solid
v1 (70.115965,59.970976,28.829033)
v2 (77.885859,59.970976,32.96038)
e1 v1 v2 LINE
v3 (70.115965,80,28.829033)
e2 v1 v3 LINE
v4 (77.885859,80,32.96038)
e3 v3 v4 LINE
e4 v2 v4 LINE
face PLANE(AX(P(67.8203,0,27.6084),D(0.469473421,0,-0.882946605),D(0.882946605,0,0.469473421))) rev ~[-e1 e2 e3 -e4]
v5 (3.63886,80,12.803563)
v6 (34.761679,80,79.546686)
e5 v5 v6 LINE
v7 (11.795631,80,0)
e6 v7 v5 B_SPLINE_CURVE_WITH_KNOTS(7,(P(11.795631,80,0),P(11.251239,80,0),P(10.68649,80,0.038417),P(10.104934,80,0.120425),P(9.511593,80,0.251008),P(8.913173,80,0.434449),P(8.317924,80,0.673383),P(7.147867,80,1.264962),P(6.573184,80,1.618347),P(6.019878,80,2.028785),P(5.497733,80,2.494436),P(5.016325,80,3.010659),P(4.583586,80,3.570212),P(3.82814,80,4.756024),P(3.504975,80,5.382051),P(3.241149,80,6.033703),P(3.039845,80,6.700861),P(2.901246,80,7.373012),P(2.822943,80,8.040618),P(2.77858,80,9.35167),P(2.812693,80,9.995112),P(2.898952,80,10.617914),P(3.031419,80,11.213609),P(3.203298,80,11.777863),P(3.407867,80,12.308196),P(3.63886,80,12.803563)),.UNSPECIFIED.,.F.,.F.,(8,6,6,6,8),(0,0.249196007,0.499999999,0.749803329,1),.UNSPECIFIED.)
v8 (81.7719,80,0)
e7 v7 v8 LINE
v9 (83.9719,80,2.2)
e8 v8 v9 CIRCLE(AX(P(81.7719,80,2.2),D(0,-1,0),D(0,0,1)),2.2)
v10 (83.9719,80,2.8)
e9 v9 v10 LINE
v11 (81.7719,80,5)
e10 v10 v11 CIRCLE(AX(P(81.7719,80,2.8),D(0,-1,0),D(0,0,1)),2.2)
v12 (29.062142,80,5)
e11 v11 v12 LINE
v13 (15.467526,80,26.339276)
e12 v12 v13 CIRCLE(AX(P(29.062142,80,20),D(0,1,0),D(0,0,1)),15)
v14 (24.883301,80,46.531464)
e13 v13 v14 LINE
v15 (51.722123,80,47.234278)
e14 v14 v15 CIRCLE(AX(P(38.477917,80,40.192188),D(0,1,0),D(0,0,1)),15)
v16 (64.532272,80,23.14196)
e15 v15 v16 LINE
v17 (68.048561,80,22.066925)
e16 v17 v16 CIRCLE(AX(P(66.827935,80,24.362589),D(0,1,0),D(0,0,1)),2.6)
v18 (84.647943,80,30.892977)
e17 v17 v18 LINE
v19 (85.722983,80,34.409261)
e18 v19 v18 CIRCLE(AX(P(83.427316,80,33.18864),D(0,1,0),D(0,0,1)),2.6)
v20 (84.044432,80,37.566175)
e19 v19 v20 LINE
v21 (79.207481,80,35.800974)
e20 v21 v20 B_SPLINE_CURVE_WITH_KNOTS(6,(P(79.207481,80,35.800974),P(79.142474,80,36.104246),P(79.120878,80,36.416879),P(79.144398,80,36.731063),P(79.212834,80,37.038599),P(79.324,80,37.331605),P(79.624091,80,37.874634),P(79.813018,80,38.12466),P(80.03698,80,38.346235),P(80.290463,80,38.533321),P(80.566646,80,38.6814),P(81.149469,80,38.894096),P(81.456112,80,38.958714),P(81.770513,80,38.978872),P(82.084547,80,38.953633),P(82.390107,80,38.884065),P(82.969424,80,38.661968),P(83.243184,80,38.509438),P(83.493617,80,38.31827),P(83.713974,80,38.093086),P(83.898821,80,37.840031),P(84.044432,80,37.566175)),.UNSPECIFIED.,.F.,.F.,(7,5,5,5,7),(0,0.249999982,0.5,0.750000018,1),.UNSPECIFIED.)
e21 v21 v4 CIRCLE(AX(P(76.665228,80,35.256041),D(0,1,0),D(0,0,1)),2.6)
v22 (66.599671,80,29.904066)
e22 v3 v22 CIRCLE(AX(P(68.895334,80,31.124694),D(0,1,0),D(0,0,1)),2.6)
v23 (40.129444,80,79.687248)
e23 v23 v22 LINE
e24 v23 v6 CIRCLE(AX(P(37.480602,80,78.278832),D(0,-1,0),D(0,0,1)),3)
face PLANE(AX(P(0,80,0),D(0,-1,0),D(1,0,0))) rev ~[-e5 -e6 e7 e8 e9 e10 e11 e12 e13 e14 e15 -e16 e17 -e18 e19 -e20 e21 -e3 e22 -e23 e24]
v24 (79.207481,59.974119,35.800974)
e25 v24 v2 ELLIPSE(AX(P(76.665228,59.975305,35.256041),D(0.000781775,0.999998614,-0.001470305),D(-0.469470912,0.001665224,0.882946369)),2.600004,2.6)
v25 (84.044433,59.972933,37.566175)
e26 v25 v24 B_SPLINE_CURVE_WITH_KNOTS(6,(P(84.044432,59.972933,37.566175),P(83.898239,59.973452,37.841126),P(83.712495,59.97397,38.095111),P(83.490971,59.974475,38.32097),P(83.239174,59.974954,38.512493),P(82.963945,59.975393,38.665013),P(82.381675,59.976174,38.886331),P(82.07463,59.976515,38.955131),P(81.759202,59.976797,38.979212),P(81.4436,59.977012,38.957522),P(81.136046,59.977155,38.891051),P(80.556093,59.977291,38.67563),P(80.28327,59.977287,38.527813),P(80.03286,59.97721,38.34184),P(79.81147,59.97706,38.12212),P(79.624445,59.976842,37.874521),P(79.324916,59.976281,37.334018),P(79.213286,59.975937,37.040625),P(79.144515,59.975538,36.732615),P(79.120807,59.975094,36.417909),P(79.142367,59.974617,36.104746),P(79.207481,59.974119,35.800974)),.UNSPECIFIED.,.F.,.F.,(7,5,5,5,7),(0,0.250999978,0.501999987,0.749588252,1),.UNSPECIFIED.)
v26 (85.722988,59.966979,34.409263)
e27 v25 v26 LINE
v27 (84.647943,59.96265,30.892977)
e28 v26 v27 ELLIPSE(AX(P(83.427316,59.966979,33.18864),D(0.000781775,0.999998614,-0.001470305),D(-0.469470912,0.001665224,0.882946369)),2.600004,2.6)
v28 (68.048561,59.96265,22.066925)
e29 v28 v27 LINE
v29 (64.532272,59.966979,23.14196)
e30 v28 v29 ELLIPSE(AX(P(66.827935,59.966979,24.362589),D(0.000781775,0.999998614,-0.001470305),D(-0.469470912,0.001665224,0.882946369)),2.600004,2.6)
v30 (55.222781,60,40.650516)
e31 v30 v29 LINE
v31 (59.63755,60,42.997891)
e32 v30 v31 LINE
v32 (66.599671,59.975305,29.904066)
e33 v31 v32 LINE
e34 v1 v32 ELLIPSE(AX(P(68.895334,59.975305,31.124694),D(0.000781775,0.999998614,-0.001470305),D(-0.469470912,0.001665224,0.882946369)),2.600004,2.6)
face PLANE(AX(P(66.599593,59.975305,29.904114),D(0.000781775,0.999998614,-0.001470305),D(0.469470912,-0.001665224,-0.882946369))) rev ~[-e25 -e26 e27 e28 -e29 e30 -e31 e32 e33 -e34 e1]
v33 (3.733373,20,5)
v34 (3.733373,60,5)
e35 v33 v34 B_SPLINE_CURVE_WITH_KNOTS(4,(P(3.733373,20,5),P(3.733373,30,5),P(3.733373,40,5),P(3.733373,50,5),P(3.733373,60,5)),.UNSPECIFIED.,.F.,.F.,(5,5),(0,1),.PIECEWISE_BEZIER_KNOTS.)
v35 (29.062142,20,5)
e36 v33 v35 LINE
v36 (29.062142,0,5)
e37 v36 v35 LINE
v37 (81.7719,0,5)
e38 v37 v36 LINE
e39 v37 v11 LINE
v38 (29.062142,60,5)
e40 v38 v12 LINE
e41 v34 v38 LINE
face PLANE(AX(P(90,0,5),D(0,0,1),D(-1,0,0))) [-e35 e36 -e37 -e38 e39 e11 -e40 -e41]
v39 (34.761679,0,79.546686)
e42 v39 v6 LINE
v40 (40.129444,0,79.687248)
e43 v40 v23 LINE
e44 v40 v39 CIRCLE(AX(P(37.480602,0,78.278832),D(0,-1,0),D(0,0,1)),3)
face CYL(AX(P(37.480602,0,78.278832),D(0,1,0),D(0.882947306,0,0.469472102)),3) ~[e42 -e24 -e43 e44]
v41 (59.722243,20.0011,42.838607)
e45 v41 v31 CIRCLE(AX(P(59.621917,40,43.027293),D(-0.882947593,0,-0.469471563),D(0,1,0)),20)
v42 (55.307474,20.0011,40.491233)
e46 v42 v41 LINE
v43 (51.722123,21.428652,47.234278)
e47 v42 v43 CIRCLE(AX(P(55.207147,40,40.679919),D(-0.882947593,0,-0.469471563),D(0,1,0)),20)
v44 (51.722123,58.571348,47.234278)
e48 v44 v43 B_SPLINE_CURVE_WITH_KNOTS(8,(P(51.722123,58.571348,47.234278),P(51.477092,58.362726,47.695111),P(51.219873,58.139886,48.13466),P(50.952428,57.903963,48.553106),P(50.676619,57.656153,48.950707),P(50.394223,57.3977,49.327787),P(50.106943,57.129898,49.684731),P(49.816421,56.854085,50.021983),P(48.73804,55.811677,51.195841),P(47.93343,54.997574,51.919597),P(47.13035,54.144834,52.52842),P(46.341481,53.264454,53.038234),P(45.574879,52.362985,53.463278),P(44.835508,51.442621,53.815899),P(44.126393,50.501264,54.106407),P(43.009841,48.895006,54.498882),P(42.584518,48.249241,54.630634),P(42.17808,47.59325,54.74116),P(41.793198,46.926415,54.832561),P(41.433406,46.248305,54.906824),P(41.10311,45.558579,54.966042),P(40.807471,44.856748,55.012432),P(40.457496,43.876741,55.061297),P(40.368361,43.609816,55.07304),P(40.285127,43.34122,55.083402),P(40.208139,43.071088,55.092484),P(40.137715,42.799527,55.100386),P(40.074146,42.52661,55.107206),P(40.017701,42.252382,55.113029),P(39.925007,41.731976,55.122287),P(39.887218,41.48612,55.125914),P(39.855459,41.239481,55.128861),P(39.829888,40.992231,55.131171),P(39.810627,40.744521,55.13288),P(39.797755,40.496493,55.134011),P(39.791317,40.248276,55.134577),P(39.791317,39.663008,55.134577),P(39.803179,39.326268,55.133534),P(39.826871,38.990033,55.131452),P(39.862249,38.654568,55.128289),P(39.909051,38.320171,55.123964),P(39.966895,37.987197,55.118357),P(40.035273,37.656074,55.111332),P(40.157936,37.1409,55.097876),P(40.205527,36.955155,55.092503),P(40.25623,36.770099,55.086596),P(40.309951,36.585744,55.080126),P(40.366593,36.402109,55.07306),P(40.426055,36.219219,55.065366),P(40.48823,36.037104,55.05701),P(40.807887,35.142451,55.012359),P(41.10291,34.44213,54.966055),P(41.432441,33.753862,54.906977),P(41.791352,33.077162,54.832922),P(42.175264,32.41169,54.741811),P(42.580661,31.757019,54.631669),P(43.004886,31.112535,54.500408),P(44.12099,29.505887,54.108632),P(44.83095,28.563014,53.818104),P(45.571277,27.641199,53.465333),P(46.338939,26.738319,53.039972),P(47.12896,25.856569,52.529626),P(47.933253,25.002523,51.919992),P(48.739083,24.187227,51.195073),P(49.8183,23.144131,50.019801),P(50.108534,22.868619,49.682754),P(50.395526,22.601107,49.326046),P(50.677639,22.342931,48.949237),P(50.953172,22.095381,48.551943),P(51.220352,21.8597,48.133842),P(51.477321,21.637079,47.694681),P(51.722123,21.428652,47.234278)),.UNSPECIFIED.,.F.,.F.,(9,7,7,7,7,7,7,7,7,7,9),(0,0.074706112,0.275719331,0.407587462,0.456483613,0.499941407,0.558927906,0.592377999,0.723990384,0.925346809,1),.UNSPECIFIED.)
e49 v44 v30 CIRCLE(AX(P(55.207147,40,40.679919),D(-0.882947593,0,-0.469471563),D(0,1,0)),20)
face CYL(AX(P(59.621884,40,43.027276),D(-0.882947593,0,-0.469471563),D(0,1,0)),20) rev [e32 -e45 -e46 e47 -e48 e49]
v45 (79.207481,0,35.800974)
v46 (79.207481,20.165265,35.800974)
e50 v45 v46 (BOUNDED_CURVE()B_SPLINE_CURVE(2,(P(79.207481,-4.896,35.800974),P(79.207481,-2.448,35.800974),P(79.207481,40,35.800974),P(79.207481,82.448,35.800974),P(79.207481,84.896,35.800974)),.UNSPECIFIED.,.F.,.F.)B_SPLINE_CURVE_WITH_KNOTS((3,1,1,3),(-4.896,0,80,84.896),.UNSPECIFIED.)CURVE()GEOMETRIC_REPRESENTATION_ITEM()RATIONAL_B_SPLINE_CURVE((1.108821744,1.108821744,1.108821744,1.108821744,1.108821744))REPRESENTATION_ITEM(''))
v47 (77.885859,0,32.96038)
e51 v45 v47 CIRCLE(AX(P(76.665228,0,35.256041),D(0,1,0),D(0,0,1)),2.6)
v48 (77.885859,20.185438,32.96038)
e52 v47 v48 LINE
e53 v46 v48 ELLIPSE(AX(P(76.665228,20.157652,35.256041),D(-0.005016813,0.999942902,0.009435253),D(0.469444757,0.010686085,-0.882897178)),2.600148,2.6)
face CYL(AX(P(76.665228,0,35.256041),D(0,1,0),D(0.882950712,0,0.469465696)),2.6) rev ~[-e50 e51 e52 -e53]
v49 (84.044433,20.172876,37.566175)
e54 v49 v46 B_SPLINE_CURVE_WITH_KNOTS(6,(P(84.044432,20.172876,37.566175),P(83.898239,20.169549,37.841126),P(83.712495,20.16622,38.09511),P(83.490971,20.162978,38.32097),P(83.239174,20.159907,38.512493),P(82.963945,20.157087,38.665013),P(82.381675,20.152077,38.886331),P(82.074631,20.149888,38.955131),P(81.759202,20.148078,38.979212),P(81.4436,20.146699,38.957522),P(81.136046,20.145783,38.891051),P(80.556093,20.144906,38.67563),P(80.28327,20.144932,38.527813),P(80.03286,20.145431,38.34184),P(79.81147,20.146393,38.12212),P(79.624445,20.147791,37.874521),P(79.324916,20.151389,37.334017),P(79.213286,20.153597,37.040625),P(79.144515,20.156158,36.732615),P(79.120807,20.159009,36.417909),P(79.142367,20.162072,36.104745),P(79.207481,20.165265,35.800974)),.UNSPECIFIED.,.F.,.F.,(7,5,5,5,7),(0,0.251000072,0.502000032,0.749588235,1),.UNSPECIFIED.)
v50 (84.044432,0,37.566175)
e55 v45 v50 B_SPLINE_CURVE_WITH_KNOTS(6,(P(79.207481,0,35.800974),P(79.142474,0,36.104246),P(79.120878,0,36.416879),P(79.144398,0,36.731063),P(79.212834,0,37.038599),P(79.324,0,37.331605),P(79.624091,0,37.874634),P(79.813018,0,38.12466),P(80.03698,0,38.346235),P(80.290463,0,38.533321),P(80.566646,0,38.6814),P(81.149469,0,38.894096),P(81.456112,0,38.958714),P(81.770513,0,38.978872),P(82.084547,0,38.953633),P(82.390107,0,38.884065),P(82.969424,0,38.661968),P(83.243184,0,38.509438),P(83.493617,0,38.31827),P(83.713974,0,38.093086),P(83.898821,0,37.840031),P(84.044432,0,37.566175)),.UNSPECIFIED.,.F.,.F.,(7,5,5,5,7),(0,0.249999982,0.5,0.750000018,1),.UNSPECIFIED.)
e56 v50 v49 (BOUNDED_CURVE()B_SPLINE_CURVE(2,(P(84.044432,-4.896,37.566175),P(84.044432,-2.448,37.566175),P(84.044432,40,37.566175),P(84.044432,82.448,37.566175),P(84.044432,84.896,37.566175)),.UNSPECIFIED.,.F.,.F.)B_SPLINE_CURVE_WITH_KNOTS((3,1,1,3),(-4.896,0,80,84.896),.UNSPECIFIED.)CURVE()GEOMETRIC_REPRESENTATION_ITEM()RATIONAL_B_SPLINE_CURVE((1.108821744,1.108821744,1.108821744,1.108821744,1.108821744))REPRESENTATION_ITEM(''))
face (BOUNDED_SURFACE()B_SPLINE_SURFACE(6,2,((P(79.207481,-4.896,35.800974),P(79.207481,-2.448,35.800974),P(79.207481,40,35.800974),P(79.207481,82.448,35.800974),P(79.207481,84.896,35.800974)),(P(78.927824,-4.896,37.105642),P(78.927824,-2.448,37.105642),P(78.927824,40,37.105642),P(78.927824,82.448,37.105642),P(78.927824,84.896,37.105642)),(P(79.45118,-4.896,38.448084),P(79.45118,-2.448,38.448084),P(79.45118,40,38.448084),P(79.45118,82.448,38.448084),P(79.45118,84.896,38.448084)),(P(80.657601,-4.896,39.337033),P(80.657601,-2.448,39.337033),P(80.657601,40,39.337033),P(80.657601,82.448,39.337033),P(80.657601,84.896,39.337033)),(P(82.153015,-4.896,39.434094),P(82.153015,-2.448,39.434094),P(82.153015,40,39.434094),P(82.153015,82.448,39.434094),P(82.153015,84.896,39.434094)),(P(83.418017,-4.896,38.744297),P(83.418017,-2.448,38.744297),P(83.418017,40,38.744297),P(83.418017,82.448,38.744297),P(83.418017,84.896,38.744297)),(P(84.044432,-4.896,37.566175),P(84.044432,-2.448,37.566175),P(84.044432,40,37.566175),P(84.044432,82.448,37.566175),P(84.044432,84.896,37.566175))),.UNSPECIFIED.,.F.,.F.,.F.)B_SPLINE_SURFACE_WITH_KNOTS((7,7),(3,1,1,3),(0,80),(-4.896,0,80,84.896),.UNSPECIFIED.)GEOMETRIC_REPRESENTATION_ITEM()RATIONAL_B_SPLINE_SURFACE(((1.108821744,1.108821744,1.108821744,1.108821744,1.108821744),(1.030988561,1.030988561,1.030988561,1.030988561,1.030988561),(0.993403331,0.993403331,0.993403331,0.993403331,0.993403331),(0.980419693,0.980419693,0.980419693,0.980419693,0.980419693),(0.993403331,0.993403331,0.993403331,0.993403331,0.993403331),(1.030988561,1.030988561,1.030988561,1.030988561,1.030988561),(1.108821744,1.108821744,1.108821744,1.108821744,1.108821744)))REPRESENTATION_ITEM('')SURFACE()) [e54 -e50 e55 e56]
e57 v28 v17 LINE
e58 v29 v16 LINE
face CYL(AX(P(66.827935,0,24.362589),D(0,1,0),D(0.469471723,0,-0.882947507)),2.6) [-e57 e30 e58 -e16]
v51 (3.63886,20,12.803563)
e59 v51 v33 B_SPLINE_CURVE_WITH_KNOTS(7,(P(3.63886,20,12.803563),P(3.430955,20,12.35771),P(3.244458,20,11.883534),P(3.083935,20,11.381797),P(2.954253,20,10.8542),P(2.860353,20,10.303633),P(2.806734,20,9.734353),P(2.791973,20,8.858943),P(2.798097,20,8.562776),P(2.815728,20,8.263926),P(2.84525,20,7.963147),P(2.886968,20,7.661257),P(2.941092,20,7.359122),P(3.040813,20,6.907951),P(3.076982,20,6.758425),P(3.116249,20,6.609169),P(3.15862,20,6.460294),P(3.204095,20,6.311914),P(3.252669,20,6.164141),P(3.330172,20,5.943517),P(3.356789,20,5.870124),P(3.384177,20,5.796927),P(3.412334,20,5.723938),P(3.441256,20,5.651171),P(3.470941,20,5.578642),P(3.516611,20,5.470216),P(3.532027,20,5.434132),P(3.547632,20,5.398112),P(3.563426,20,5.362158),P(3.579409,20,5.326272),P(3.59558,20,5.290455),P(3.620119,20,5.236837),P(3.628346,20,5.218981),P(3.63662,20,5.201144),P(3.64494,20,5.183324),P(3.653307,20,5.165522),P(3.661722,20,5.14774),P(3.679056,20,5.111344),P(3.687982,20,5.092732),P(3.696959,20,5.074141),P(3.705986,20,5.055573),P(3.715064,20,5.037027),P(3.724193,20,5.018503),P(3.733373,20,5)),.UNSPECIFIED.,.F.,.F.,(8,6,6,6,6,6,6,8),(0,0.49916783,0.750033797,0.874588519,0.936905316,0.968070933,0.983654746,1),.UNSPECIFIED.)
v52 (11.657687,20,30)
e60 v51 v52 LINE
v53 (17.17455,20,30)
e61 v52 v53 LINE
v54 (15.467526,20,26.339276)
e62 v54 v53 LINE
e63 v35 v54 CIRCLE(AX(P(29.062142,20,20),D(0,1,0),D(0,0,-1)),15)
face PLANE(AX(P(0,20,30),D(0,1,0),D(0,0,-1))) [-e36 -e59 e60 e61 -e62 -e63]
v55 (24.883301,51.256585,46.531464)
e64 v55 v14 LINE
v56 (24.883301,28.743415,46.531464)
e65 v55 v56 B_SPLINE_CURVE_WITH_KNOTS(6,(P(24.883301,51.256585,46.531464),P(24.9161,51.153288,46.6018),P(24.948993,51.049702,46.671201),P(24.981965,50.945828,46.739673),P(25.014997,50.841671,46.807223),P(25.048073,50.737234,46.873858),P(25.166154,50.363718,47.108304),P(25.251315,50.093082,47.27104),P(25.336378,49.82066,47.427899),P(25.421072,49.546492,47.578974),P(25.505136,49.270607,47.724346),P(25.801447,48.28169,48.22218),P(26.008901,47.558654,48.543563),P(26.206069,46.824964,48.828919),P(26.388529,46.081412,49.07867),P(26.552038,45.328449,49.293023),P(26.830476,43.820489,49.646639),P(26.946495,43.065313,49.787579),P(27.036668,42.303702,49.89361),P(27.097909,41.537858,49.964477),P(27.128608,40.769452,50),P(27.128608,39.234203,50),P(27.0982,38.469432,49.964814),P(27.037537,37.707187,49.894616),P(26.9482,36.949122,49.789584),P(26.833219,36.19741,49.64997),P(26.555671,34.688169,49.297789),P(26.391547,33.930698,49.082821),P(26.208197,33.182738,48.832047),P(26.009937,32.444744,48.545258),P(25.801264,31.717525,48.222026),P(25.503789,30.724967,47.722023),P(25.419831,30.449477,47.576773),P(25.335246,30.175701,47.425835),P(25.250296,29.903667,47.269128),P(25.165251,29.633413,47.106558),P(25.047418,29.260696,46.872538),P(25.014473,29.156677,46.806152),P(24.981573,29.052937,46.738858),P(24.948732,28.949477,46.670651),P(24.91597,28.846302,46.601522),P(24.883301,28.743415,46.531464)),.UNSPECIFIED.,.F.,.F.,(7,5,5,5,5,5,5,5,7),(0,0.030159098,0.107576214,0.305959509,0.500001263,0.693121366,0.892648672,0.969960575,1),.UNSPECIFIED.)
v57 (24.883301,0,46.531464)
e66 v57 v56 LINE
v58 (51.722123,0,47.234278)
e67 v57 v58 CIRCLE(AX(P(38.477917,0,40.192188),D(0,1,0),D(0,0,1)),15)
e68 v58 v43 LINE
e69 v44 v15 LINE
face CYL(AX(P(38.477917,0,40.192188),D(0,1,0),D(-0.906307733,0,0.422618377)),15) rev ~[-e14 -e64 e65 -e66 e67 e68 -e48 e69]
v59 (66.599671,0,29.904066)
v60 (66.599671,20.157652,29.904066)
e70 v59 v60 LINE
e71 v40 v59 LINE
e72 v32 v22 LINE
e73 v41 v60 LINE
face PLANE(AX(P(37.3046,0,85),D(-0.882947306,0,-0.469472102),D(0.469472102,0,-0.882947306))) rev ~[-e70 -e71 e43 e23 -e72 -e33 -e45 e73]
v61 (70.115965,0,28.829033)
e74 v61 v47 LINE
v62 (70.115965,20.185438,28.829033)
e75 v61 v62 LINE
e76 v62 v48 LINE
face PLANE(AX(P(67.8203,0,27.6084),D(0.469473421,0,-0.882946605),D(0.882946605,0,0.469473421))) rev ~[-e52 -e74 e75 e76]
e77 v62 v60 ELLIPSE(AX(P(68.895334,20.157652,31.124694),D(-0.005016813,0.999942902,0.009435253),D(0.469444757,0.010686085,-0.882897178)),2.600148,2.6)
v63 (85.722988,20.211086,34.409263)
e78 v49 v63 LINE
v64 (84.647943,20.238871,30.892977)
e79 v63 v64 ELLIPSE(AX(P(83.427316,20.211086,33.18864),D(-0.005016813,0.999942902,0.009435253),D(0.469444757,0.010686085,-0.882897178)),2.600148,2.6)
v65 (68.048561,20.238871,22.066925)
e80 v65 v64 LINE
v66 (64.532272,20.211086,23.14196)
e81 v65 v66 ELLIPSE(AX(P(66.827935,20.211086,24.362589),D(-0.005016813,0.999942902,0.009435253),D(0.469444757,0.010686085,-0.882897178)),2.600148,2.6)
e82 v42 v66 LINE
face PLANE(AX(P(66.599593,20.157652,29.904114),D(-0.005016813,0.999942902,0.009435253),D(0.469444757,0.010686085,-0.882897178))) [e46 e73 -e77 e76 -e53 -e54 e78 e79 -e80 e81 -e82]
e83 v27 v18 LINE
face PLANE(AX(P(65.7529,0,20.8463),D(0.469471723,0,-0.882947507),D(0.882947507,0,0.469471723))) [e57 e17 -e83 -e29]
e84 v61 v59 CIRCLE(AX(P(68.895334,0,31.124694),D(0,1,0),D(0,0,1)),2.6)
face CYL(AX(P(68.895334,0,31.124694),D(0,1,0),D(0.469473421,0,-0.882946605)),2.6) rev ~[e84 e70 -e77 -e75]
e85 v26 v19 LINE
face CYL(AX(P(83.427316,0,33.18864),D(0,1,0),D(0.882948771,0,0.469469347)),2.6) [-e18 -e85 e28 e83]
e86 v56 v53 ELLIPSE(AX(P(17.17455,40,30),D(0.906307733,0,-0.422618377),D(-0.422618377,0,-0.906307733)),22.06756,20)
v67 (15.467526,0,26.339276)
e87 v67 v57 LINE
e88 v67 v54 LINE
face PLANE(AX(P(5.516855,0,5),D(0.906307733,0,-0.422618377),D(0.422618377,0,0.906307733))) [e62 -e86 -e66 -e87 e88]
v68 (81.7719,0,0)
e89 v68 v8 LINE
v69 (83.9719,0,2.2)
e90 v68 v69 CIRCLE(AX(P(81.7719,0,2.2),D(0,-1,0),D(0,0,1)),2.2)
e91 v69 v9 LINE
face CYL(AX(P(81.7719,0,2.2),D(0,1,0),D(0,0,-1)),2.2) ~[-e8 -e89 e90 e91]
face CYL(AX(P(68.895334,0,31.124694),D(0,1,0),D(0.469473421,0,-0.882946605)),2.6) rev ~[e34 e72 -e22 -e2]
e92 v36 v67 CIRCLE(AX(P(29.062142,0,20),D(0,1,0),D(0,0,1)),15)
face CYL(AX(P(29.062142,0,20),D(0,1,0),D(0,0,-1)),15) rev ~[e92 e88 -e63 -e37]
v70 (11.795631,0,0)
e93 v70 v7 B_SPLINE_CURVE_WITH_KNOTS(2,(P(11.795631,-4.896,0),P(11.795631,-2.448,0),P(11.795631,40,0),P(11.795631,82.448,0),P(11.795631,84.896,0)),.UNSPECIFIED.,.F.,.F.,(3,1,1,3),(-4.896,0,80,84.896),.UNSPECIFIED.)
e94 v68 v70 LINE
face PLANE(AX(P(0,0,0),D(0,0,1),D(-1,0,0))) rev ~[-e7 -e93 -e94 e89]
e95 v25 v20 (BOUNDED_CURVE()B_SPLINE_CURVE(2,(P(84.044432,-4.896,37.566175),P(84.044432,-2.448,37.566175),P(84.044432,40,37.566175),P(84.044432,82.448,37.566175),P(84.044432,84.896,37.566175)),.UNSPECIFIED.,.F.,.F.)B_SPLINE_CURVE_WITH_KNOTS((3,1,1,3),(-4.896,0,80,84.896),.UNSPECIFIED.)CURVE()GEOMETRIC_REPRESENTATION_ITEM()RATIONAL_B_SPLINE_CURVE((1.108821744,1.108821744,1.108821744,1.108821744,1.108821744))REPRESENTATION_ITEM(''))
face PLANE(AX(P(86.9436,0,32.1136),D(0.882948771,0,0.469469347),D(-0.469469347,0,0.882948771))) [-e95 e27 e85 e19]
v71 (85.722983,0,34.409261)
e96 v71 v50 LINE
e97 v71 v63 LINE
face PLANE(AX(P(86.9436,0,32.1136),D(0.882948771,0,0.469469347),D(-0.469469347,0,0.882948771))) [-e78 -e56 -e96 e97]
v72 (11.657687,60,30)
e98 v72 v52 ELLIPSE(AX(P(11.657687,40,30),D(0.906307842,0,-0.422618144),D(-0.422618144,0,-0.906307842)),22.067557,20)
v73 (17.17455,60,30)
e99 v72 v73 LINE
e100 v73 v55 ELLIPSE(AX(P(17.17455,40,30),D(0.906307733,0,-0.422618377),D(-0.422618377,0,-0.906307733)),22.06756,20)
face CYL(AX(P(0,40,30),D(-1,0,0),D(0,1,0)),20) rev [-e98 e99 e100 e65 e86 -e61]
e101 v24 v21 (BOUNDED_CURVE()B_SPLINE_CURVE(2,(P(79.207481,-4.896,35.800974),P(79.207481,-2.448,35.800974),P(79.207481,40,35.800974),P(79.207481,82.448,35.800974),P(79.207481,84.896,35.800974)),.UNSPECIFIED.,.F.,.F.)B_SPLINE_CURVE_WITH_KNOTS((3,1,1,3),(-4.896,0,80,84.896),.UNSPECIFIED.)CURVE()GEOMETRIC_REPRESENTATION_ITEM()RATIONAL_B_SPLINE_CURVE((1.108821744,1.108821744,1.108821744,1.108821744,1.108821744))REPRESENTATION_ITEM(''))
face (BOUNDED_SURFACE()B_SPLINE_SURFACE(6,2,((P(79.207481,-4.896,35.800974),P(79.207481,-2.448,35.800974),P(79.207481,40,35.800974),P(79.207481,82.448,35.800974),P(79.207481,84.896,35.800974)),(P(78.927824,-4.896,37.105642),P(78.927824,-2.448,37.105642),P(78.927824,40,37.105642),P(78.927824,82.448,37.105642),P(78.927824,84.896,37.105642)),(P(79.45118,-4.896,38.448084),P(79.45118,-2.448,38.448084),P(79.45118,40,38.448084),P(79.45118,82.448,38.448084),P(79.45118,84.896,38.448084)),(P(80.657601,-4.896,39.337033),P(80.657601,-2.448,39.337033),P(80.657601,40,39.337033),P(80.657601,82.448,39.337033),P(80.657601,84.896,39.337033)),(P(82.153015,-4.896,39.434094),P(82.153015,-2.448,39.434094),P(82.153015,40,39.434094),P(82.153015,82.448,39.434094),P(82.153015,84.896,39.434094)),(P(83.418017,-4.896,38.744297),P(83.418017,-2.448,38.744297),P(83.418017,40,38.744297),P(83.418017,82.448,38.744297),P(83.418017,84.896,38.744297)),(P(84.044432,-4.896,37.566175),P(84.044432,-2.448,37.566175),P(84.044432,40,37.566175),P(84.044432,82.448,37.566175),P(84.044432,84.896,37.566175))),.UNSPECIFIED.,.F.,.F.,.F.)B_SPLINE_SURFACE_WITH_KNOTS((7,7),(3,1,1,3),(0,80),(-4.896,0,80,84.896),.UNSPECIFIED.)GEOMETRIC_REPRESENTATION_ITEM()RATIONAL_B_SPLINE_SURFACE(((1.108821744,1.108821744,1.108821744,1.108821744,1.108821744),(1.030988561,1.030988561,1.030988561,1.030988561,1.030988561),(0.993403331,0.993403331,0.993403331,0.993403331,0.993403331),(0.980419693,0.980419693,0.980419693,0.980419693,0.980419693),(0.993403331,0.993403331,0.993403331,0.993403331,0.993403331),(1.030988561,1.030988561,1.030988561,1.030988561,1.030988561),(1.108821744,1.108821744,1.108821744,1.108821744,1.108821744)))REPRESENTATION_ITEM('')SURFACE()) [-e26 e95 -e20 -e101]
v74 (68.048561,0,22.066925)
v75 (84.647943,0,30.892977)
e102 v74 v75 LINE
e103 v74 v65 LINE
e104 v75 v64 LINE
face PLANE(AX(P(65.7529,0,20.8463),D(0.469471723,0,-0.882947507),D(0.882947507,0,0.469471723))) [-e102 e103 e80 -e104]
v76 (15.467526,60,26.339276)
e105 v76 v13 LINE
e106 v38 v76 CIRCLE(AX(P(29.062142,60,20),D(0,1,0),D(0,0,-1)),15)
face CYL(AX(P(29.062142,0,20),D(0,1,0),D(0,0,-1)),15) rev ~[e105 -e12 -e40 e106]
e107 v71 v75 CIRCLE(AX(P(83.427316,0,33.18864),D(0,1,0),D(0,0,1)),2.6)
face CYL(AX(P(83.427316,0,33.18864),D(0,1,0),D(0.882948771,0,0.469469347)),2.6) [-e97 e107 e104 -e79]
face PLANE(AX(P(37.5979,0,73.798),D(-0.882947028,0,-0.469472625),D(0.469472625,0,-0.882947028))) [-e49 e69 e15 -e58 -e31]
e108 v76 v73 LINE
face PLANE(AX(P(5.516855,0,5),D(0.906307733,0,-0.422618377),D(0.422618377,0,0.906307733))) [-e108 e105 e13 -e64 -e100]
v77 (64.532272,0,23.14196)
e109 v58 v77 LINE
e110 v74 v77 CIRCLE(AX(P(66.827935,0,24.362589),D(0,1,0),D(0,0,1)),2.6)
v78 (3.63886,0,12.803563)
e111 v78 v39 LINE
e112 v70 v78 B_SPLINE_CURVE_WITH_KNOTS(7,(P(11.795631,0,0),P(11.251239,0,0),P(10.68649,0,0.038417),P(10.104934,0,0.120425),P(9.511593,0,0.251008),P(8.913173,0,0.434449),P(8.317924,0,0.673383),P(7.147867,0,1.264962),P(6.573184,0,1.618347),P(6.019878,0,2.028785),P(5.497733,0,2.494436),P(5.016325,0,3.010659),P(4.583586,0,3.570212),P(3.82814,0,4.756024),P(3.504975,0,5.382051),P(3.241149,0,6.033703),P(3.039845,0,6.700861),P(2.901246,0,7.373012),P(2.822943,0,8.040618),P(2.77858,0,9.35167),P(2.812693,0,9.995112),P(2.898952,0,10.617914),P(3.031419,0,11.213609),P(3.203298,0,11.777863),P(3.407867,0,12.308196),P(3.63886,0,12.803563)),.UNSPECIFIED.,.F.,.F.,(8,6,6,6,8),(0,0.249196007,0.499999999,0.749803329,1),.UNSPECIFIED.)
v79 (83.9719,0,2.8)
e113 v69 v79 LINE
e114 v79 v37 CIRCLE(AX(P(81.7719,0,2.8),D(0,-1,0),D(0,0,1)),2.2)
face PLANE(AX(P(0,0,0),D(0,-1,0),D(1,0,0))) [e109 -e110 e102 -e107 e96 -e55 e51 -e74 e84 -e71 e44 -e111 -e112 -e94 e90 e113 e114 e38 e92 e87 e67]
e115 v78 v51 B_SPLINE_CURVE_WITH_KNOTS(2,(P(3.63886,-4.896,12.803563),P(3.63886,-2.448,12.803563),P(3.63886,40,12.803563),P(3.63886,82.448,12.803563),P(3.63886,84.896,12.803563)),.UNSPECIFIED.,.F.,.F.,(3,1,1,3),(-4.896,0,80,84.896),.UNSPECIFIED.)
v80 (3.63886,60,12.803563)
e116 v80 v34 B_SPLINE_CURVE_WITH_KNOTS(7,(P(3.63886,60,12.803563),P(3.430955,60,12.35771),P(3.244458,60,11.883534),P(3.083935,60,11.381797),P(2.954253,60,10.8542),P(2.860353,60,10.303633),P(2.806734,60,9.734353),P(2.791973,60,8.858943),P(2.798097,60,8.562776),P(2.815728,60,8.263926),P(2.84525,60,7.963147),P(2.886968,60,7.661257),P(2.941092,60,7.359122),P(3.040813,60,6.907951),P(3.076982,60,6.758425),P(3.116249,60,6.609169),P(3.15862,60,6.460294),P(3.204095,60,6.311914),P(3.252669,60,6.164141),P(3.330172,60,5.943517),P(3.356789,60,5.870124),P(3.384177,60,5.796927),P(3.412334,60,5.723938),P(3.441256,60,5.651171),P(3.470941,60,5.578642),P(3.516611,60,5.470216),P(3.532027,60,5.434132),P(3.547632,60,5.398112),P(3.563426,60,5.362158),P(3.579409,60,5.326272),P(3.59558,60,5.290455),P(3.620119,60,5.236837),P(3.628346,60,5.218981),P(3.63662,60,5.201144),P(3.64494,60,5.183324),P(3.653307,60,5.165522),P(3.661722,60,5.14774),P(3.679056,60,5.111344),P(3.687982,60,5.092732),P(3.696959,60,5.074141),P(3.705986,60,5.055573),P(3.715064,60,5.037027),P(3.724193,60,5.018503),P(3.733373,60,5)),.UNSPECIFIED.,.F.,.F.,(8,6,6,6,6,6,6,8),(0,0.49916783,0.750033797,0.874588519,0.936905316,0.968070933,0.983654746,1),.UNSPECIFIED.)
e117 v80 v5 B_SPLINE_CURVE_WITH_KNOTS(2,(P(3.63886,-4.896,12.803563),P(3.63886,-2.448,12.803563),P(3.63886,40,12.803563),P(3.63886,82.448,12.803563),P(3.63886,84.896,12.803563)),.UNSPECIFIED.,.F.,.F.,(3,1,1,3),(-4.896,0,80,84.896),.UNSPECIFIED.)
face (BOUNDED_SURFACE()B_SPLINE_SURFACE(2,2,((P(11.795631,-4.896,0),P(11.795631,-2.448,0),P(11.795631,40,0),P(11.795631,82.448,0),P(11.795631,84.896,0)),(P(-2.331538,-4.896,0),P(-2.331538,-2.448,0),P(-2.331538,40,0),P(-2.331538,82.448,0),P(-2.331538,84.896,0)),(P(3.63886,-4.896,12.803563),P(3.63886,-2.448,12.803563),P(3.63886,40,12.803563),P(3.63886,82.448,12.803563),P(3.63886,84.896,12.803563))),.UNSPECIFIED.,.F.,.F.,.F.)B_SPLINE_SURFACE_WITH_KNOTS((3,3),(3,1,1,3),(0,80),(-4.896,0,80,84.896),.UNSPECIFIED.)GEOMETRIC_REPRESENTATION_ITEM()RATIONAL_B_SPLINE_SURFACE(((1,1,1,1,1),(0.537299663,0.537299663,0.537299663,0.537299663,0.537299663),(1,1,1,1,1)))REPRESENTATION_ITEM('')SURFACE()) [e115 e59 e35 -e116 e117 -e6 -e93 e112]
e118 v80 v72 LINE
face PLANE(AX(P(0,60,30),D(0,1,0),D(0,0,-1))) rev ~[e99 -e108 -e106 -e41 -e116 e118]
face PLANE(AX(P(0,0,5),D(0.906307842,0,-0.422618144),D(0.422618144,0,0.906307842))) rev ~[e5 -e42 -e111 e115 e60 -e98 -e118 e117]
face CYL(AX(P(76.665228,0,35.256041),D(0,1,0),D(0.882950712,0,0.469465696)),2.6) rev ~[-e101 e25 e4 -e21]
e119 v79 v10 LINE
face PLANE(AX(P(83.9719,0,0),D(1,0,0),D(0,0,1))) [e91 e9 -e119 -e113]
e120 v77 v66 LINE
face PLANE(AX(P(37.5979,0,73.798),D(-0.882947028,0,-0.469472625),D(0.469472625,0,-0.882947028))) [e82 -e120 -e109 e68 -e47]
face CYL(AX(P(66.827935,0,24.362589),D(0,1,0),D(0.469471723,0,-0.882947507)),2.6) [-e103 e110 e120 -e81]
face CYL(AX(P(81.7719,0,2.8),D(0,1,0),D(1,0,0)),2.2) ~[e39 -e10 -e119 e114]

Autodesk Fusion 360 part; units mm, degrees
sketch "Schizzo1" plane through (0, 0, 0) normal (0, 0, 1) x (1, 0, 0)
  line L0 (0, 0) -> (90, 0)
  line L1 (90, 0) -> (90, 80)
  line L2 (90, 80) -> (0, 80)
  line L3 (0, 80) -> (0, 0)
  dimension "d1" = 90
  dimension "d2" = 80
extrude "Estrusione1" add sketch "Schizzo1" along normal blind 85
sketch "Schizzo2" plane through (0, 0, 0) normal (0, -1, 0) x (1, 0, 0)
  line L0 (0, 0) -> (90, 0)
  line L1 (90, 0) -> (90, 85)
  line L2 (90, 85) -> (0, 85)
  line L3 (0, 85) -> (0, 0)
  line L4 (90, 0) -> (90, 5)
  line L5 (90, 5) -> (0, 5)
  line L6 (0, 5) -> (0, 0)
  line L7 (0, 0) -> (90, 0)
  line L8 (0, 5) -> (37.3046, 85)
  line L9 (0, 5) -> (76.1109, 5) construction
  line L10 (37.3046, 85) -> (67.8203, 27.6084)
  line L11 (67.8203, 27.6084) -> (80.1815, 34.181)
  line L12 (80.1815, 34.181) -> (77.8342, 38.5957)
  line L13 (4.5315, 2.8869) -> (37.5979, 73.798)
  line L14 (37.5979, 73.798) -> (65.7529, 20.8463)
  line L15 (65.7529, 20.8463) -> (86.9436, 32.1136)
  line L16 (86.9436, 32.1136) -> (82.2489, 40.9431)
  line L17 (77.8342, 38.5957) -> (82.2489, 40.9431)
  line L18 (0, 5) -> (-2.3315, 0)
  line L19 (0, 0) -> (-2.3315, 0)
  dimension "d5" = 5
  dimension "d6" = 65
  dimension "d8" = 53
  dimension "d9" = 65
  dimension "d10" = 14
  dimension "d11" = 5
  dimension "d12" = 5
extrude "Estrusione2" cut sketch "Schizzo2" against normal blind 80 contours L2 L3 L8 | L1 L2 L5 L10 L11 L12 L13 L14 L15 L16 L17
fillet "Raccordo1" radius 15 1 edges at (5.5169, 40, 5)
fillet "Raccordo2" radius 15 1 edges at (37.5979, 40, 73.798)
fillet "Raccordo3" radius 2.6 6 edges at (80.1815, 40, 34.181) (77.8342, 40, 38.5957) (82.2489, 40, 40.9431) (67.8203, 40, 27.6084) (86.9436, 40, 32.1136) (65.7529, 40, 20.8463)
fillet "Raccordo4" radius 3 1 edges at (37.3046, 40, 85)
sketch "Schizzo3" plane through (0, 0, 0) normal (0, -1, 0) x (1, 0, 0)
  arc A0 (15.4676, 26.3393) -> (29.0622, 5) centre (29.0622, 20) ccw
  line L0 (15.4676, 26.3393) -> (24.8833, 46.5315)
  arc A1 (51.7222, 47.2343) -> (24.8833, 46.5315) centre (38.4779, 40.1922) ccw
  line L1 (51.7222, 47.2343) -> (64.5323, 23.142)
  arc A2 (64.5323, 23.142) -> (68.0485, 22.0669) centre (66.8279, 24.3626) ccw
  line L2 (68.0485, 22.0669) -> (84.648, 30.893)
  arc A3 (84.648, 30.893) -> (85.723, 34.4093) centre (83.4273, 33.1887) ccw
  line L3 (85.723, 34.4093) -> (84.0462, 37.5629)
  arc A4 (84.0462, 37.5629) -> (79.2079, 35.7992) centre (81.7505, 36.3423) ccw
  arc A5 (77.8859, 32.9604) -> (79.2079, 35.7992) centre (76.6652, 35.256) ccw
  line L4 (77.8859, 32.9604) -> (70.1159, 28.829)
  arc A6 (66.5996, 29.9041) -> (70.1159, 28.829) centre (68.8953, 31.1247) ccw
  line L5 (66.5996, 29.9041) -> (40.1295, 79.6872)
  arc A7 (40.1295, 79.6872) -> (34.7617, 79.5467) centre (37.4806, 78.2788) ccw
  line L6 (34.7617, 79.5467) -> (0, 5)
  line L7 (0, 5) -> (0, 0)
  line L8 (0, 0) -> (90, 0)
  line L9 (0, 5) -> (-2.8175, -1.0421)
  line L10 (0, 0) -> (-2.3315, 0)
  line L11 (90, 0) -> (90, 5)
  line L12 (90, 5) -> (29.0622, 5)
extrude "Estrusione3" add sketch "Schizzo3" against normal blind 80 contours L7 L9 L10
fillet "Raccordo6" radius 9 1 edges at (-2.3315, 40, 0)
sketch "Schizzo4" plane through (0, 0, 0) normal (0, -1, 0) x (1, 0, 0)
  arc A0 (3.6389, 12.8036) -> (11.7956, 0) centre (11.7956, 9) ccw
  line L0 (11.7956, 0) -> (90, 0)
  line L1 (90, 0) -> (90, 5)
  line L2 (90, 5) -> (29.0622, 5)
  arc A1 (15.4676, 26.3393) -> (29.0622, 5) centre (29.0622, 20) ccw
  line L3 (15.4676, 26.3393) -> (24.8833, 46.5315)
  arc A2 (51.7222, 47.2343) -> (24.8833, 46.5315) centre (38.4779, 40.1922) ccw
  line L4 (51.7222, 47.2343) -> (64.5323, 23.142)
  arc A3 (64.5323, 23.142) -> (68.0485, 22.0669) centre (66.8279, 24.3626) ccw
  line L5 (68.0485, 22.0669) -> (84.648, 30.893)
  arc A4 (84.648, 30.893) -> (85.723, 34.4093) centre (83.4273, 33.1887) ccw
  line L6 (85.723, 34.4093) -> (84.0462, 37.5629)
  arc A5 (84.0462, 37.5629) -> (79.2079, 35.7992) centre (81.7505, 36.3423) ccw
  arc A6 (77.8859, 32.9604) -> (79.2079, 35.7992) centre (76.6652, 35.256) ccw
  line L7 (77.8859, 32.9604) -> (70.1159, 28.829)
  arc A7 (66.5996, 29.9041) -> (70.1159, 28.829) centre (68.8953, 31.1247) ccw
  line L8 (66.5996, 29.9041) -> (40.1295, 79.6872)
  arc A8 (40.1295, 79.6872) -> (34.7617, 79.5467) centre (37.4806, 78.2788) ccw
  line L9 (34.7617, 79.5467) -> (3.6389, 12.8036)
  line L10 (100, -5) -> (83.9719, -5)
  line L11 (83.9719, -5) -> (83.9719, 13.2417)
  line L12 (83.9719, 13.2417) -> (100, 13.2417)
  line L13 (100, 13.2417) -> (100, -5)
extrude "Estrusione4" cut sketch "Schizzo4" against normal blind 80 contours L0 L1 L2 L11
fillet "Raccordo7" radius 2.2 2 edges at (83.9719, 40, 5) (83.9719, 40, 0)
sketch "Schizzo5" plane through (64.3166, 0, 34.1978) normal (0.8829, 0, 0.4695) x (0, 1, 0)
  line L0 (80, 51.52) -> (0, 51.52)
  line L1 (0, 51.52) -> (0, -4.8629)
  line L2 (0, -4.8629) -> (80, -4.8629)
  line L3 (80, -4.8629) -> (80, 51.52)
  circle A0 centre (40, 10) radius 20
  line L4 (20.0011, 9.7863) -> (20.3194, -19.9984)
  line L5 (60, 9.9667) -> (59.9501, -19.9992)
  line L6 (59.9501, -19.9992) -> (20.3194, -19.9984)
  line L7 (0, 0) -> (0, 10)
  line L8 (0, 10) -> (40, 10)
  dimension "d34" = 40
  dimension "d39" = 10
  dimension "d40" = 40
extrude "Estrusione5" cut sketch "Schizzo5" along normal blind 19 and the other way blind 15 contours L2 A0 L4 L5 L6 | L2 A0 L5 | L2 A0 | L2 A0 | L2 A0 L4
sketch "Schizzo6" plane through (0, 0, 0) normal (1, 0, 0) x (0, 1, 0)
  line L0 (80, 0) -> (80, 5)
  line L1 (80, 5) -> (40, 5)
  line L2 (40, 5) -> (40, 30)
  circle A0 centre (40, 30) radius 20
  line L3 (60, 30) -> (60, 5)
  line L4 (20, 30) -> (20, 5)
  line L5 (20, 5) -> (40, 5)
  dimension "d41" = 5
  dimension "d42" = 40
  dimension "d43" = 25
  dimension "d44" = 40
extrude "Estrusione6" cut sketch "Schizzo6" along normal blind 30
